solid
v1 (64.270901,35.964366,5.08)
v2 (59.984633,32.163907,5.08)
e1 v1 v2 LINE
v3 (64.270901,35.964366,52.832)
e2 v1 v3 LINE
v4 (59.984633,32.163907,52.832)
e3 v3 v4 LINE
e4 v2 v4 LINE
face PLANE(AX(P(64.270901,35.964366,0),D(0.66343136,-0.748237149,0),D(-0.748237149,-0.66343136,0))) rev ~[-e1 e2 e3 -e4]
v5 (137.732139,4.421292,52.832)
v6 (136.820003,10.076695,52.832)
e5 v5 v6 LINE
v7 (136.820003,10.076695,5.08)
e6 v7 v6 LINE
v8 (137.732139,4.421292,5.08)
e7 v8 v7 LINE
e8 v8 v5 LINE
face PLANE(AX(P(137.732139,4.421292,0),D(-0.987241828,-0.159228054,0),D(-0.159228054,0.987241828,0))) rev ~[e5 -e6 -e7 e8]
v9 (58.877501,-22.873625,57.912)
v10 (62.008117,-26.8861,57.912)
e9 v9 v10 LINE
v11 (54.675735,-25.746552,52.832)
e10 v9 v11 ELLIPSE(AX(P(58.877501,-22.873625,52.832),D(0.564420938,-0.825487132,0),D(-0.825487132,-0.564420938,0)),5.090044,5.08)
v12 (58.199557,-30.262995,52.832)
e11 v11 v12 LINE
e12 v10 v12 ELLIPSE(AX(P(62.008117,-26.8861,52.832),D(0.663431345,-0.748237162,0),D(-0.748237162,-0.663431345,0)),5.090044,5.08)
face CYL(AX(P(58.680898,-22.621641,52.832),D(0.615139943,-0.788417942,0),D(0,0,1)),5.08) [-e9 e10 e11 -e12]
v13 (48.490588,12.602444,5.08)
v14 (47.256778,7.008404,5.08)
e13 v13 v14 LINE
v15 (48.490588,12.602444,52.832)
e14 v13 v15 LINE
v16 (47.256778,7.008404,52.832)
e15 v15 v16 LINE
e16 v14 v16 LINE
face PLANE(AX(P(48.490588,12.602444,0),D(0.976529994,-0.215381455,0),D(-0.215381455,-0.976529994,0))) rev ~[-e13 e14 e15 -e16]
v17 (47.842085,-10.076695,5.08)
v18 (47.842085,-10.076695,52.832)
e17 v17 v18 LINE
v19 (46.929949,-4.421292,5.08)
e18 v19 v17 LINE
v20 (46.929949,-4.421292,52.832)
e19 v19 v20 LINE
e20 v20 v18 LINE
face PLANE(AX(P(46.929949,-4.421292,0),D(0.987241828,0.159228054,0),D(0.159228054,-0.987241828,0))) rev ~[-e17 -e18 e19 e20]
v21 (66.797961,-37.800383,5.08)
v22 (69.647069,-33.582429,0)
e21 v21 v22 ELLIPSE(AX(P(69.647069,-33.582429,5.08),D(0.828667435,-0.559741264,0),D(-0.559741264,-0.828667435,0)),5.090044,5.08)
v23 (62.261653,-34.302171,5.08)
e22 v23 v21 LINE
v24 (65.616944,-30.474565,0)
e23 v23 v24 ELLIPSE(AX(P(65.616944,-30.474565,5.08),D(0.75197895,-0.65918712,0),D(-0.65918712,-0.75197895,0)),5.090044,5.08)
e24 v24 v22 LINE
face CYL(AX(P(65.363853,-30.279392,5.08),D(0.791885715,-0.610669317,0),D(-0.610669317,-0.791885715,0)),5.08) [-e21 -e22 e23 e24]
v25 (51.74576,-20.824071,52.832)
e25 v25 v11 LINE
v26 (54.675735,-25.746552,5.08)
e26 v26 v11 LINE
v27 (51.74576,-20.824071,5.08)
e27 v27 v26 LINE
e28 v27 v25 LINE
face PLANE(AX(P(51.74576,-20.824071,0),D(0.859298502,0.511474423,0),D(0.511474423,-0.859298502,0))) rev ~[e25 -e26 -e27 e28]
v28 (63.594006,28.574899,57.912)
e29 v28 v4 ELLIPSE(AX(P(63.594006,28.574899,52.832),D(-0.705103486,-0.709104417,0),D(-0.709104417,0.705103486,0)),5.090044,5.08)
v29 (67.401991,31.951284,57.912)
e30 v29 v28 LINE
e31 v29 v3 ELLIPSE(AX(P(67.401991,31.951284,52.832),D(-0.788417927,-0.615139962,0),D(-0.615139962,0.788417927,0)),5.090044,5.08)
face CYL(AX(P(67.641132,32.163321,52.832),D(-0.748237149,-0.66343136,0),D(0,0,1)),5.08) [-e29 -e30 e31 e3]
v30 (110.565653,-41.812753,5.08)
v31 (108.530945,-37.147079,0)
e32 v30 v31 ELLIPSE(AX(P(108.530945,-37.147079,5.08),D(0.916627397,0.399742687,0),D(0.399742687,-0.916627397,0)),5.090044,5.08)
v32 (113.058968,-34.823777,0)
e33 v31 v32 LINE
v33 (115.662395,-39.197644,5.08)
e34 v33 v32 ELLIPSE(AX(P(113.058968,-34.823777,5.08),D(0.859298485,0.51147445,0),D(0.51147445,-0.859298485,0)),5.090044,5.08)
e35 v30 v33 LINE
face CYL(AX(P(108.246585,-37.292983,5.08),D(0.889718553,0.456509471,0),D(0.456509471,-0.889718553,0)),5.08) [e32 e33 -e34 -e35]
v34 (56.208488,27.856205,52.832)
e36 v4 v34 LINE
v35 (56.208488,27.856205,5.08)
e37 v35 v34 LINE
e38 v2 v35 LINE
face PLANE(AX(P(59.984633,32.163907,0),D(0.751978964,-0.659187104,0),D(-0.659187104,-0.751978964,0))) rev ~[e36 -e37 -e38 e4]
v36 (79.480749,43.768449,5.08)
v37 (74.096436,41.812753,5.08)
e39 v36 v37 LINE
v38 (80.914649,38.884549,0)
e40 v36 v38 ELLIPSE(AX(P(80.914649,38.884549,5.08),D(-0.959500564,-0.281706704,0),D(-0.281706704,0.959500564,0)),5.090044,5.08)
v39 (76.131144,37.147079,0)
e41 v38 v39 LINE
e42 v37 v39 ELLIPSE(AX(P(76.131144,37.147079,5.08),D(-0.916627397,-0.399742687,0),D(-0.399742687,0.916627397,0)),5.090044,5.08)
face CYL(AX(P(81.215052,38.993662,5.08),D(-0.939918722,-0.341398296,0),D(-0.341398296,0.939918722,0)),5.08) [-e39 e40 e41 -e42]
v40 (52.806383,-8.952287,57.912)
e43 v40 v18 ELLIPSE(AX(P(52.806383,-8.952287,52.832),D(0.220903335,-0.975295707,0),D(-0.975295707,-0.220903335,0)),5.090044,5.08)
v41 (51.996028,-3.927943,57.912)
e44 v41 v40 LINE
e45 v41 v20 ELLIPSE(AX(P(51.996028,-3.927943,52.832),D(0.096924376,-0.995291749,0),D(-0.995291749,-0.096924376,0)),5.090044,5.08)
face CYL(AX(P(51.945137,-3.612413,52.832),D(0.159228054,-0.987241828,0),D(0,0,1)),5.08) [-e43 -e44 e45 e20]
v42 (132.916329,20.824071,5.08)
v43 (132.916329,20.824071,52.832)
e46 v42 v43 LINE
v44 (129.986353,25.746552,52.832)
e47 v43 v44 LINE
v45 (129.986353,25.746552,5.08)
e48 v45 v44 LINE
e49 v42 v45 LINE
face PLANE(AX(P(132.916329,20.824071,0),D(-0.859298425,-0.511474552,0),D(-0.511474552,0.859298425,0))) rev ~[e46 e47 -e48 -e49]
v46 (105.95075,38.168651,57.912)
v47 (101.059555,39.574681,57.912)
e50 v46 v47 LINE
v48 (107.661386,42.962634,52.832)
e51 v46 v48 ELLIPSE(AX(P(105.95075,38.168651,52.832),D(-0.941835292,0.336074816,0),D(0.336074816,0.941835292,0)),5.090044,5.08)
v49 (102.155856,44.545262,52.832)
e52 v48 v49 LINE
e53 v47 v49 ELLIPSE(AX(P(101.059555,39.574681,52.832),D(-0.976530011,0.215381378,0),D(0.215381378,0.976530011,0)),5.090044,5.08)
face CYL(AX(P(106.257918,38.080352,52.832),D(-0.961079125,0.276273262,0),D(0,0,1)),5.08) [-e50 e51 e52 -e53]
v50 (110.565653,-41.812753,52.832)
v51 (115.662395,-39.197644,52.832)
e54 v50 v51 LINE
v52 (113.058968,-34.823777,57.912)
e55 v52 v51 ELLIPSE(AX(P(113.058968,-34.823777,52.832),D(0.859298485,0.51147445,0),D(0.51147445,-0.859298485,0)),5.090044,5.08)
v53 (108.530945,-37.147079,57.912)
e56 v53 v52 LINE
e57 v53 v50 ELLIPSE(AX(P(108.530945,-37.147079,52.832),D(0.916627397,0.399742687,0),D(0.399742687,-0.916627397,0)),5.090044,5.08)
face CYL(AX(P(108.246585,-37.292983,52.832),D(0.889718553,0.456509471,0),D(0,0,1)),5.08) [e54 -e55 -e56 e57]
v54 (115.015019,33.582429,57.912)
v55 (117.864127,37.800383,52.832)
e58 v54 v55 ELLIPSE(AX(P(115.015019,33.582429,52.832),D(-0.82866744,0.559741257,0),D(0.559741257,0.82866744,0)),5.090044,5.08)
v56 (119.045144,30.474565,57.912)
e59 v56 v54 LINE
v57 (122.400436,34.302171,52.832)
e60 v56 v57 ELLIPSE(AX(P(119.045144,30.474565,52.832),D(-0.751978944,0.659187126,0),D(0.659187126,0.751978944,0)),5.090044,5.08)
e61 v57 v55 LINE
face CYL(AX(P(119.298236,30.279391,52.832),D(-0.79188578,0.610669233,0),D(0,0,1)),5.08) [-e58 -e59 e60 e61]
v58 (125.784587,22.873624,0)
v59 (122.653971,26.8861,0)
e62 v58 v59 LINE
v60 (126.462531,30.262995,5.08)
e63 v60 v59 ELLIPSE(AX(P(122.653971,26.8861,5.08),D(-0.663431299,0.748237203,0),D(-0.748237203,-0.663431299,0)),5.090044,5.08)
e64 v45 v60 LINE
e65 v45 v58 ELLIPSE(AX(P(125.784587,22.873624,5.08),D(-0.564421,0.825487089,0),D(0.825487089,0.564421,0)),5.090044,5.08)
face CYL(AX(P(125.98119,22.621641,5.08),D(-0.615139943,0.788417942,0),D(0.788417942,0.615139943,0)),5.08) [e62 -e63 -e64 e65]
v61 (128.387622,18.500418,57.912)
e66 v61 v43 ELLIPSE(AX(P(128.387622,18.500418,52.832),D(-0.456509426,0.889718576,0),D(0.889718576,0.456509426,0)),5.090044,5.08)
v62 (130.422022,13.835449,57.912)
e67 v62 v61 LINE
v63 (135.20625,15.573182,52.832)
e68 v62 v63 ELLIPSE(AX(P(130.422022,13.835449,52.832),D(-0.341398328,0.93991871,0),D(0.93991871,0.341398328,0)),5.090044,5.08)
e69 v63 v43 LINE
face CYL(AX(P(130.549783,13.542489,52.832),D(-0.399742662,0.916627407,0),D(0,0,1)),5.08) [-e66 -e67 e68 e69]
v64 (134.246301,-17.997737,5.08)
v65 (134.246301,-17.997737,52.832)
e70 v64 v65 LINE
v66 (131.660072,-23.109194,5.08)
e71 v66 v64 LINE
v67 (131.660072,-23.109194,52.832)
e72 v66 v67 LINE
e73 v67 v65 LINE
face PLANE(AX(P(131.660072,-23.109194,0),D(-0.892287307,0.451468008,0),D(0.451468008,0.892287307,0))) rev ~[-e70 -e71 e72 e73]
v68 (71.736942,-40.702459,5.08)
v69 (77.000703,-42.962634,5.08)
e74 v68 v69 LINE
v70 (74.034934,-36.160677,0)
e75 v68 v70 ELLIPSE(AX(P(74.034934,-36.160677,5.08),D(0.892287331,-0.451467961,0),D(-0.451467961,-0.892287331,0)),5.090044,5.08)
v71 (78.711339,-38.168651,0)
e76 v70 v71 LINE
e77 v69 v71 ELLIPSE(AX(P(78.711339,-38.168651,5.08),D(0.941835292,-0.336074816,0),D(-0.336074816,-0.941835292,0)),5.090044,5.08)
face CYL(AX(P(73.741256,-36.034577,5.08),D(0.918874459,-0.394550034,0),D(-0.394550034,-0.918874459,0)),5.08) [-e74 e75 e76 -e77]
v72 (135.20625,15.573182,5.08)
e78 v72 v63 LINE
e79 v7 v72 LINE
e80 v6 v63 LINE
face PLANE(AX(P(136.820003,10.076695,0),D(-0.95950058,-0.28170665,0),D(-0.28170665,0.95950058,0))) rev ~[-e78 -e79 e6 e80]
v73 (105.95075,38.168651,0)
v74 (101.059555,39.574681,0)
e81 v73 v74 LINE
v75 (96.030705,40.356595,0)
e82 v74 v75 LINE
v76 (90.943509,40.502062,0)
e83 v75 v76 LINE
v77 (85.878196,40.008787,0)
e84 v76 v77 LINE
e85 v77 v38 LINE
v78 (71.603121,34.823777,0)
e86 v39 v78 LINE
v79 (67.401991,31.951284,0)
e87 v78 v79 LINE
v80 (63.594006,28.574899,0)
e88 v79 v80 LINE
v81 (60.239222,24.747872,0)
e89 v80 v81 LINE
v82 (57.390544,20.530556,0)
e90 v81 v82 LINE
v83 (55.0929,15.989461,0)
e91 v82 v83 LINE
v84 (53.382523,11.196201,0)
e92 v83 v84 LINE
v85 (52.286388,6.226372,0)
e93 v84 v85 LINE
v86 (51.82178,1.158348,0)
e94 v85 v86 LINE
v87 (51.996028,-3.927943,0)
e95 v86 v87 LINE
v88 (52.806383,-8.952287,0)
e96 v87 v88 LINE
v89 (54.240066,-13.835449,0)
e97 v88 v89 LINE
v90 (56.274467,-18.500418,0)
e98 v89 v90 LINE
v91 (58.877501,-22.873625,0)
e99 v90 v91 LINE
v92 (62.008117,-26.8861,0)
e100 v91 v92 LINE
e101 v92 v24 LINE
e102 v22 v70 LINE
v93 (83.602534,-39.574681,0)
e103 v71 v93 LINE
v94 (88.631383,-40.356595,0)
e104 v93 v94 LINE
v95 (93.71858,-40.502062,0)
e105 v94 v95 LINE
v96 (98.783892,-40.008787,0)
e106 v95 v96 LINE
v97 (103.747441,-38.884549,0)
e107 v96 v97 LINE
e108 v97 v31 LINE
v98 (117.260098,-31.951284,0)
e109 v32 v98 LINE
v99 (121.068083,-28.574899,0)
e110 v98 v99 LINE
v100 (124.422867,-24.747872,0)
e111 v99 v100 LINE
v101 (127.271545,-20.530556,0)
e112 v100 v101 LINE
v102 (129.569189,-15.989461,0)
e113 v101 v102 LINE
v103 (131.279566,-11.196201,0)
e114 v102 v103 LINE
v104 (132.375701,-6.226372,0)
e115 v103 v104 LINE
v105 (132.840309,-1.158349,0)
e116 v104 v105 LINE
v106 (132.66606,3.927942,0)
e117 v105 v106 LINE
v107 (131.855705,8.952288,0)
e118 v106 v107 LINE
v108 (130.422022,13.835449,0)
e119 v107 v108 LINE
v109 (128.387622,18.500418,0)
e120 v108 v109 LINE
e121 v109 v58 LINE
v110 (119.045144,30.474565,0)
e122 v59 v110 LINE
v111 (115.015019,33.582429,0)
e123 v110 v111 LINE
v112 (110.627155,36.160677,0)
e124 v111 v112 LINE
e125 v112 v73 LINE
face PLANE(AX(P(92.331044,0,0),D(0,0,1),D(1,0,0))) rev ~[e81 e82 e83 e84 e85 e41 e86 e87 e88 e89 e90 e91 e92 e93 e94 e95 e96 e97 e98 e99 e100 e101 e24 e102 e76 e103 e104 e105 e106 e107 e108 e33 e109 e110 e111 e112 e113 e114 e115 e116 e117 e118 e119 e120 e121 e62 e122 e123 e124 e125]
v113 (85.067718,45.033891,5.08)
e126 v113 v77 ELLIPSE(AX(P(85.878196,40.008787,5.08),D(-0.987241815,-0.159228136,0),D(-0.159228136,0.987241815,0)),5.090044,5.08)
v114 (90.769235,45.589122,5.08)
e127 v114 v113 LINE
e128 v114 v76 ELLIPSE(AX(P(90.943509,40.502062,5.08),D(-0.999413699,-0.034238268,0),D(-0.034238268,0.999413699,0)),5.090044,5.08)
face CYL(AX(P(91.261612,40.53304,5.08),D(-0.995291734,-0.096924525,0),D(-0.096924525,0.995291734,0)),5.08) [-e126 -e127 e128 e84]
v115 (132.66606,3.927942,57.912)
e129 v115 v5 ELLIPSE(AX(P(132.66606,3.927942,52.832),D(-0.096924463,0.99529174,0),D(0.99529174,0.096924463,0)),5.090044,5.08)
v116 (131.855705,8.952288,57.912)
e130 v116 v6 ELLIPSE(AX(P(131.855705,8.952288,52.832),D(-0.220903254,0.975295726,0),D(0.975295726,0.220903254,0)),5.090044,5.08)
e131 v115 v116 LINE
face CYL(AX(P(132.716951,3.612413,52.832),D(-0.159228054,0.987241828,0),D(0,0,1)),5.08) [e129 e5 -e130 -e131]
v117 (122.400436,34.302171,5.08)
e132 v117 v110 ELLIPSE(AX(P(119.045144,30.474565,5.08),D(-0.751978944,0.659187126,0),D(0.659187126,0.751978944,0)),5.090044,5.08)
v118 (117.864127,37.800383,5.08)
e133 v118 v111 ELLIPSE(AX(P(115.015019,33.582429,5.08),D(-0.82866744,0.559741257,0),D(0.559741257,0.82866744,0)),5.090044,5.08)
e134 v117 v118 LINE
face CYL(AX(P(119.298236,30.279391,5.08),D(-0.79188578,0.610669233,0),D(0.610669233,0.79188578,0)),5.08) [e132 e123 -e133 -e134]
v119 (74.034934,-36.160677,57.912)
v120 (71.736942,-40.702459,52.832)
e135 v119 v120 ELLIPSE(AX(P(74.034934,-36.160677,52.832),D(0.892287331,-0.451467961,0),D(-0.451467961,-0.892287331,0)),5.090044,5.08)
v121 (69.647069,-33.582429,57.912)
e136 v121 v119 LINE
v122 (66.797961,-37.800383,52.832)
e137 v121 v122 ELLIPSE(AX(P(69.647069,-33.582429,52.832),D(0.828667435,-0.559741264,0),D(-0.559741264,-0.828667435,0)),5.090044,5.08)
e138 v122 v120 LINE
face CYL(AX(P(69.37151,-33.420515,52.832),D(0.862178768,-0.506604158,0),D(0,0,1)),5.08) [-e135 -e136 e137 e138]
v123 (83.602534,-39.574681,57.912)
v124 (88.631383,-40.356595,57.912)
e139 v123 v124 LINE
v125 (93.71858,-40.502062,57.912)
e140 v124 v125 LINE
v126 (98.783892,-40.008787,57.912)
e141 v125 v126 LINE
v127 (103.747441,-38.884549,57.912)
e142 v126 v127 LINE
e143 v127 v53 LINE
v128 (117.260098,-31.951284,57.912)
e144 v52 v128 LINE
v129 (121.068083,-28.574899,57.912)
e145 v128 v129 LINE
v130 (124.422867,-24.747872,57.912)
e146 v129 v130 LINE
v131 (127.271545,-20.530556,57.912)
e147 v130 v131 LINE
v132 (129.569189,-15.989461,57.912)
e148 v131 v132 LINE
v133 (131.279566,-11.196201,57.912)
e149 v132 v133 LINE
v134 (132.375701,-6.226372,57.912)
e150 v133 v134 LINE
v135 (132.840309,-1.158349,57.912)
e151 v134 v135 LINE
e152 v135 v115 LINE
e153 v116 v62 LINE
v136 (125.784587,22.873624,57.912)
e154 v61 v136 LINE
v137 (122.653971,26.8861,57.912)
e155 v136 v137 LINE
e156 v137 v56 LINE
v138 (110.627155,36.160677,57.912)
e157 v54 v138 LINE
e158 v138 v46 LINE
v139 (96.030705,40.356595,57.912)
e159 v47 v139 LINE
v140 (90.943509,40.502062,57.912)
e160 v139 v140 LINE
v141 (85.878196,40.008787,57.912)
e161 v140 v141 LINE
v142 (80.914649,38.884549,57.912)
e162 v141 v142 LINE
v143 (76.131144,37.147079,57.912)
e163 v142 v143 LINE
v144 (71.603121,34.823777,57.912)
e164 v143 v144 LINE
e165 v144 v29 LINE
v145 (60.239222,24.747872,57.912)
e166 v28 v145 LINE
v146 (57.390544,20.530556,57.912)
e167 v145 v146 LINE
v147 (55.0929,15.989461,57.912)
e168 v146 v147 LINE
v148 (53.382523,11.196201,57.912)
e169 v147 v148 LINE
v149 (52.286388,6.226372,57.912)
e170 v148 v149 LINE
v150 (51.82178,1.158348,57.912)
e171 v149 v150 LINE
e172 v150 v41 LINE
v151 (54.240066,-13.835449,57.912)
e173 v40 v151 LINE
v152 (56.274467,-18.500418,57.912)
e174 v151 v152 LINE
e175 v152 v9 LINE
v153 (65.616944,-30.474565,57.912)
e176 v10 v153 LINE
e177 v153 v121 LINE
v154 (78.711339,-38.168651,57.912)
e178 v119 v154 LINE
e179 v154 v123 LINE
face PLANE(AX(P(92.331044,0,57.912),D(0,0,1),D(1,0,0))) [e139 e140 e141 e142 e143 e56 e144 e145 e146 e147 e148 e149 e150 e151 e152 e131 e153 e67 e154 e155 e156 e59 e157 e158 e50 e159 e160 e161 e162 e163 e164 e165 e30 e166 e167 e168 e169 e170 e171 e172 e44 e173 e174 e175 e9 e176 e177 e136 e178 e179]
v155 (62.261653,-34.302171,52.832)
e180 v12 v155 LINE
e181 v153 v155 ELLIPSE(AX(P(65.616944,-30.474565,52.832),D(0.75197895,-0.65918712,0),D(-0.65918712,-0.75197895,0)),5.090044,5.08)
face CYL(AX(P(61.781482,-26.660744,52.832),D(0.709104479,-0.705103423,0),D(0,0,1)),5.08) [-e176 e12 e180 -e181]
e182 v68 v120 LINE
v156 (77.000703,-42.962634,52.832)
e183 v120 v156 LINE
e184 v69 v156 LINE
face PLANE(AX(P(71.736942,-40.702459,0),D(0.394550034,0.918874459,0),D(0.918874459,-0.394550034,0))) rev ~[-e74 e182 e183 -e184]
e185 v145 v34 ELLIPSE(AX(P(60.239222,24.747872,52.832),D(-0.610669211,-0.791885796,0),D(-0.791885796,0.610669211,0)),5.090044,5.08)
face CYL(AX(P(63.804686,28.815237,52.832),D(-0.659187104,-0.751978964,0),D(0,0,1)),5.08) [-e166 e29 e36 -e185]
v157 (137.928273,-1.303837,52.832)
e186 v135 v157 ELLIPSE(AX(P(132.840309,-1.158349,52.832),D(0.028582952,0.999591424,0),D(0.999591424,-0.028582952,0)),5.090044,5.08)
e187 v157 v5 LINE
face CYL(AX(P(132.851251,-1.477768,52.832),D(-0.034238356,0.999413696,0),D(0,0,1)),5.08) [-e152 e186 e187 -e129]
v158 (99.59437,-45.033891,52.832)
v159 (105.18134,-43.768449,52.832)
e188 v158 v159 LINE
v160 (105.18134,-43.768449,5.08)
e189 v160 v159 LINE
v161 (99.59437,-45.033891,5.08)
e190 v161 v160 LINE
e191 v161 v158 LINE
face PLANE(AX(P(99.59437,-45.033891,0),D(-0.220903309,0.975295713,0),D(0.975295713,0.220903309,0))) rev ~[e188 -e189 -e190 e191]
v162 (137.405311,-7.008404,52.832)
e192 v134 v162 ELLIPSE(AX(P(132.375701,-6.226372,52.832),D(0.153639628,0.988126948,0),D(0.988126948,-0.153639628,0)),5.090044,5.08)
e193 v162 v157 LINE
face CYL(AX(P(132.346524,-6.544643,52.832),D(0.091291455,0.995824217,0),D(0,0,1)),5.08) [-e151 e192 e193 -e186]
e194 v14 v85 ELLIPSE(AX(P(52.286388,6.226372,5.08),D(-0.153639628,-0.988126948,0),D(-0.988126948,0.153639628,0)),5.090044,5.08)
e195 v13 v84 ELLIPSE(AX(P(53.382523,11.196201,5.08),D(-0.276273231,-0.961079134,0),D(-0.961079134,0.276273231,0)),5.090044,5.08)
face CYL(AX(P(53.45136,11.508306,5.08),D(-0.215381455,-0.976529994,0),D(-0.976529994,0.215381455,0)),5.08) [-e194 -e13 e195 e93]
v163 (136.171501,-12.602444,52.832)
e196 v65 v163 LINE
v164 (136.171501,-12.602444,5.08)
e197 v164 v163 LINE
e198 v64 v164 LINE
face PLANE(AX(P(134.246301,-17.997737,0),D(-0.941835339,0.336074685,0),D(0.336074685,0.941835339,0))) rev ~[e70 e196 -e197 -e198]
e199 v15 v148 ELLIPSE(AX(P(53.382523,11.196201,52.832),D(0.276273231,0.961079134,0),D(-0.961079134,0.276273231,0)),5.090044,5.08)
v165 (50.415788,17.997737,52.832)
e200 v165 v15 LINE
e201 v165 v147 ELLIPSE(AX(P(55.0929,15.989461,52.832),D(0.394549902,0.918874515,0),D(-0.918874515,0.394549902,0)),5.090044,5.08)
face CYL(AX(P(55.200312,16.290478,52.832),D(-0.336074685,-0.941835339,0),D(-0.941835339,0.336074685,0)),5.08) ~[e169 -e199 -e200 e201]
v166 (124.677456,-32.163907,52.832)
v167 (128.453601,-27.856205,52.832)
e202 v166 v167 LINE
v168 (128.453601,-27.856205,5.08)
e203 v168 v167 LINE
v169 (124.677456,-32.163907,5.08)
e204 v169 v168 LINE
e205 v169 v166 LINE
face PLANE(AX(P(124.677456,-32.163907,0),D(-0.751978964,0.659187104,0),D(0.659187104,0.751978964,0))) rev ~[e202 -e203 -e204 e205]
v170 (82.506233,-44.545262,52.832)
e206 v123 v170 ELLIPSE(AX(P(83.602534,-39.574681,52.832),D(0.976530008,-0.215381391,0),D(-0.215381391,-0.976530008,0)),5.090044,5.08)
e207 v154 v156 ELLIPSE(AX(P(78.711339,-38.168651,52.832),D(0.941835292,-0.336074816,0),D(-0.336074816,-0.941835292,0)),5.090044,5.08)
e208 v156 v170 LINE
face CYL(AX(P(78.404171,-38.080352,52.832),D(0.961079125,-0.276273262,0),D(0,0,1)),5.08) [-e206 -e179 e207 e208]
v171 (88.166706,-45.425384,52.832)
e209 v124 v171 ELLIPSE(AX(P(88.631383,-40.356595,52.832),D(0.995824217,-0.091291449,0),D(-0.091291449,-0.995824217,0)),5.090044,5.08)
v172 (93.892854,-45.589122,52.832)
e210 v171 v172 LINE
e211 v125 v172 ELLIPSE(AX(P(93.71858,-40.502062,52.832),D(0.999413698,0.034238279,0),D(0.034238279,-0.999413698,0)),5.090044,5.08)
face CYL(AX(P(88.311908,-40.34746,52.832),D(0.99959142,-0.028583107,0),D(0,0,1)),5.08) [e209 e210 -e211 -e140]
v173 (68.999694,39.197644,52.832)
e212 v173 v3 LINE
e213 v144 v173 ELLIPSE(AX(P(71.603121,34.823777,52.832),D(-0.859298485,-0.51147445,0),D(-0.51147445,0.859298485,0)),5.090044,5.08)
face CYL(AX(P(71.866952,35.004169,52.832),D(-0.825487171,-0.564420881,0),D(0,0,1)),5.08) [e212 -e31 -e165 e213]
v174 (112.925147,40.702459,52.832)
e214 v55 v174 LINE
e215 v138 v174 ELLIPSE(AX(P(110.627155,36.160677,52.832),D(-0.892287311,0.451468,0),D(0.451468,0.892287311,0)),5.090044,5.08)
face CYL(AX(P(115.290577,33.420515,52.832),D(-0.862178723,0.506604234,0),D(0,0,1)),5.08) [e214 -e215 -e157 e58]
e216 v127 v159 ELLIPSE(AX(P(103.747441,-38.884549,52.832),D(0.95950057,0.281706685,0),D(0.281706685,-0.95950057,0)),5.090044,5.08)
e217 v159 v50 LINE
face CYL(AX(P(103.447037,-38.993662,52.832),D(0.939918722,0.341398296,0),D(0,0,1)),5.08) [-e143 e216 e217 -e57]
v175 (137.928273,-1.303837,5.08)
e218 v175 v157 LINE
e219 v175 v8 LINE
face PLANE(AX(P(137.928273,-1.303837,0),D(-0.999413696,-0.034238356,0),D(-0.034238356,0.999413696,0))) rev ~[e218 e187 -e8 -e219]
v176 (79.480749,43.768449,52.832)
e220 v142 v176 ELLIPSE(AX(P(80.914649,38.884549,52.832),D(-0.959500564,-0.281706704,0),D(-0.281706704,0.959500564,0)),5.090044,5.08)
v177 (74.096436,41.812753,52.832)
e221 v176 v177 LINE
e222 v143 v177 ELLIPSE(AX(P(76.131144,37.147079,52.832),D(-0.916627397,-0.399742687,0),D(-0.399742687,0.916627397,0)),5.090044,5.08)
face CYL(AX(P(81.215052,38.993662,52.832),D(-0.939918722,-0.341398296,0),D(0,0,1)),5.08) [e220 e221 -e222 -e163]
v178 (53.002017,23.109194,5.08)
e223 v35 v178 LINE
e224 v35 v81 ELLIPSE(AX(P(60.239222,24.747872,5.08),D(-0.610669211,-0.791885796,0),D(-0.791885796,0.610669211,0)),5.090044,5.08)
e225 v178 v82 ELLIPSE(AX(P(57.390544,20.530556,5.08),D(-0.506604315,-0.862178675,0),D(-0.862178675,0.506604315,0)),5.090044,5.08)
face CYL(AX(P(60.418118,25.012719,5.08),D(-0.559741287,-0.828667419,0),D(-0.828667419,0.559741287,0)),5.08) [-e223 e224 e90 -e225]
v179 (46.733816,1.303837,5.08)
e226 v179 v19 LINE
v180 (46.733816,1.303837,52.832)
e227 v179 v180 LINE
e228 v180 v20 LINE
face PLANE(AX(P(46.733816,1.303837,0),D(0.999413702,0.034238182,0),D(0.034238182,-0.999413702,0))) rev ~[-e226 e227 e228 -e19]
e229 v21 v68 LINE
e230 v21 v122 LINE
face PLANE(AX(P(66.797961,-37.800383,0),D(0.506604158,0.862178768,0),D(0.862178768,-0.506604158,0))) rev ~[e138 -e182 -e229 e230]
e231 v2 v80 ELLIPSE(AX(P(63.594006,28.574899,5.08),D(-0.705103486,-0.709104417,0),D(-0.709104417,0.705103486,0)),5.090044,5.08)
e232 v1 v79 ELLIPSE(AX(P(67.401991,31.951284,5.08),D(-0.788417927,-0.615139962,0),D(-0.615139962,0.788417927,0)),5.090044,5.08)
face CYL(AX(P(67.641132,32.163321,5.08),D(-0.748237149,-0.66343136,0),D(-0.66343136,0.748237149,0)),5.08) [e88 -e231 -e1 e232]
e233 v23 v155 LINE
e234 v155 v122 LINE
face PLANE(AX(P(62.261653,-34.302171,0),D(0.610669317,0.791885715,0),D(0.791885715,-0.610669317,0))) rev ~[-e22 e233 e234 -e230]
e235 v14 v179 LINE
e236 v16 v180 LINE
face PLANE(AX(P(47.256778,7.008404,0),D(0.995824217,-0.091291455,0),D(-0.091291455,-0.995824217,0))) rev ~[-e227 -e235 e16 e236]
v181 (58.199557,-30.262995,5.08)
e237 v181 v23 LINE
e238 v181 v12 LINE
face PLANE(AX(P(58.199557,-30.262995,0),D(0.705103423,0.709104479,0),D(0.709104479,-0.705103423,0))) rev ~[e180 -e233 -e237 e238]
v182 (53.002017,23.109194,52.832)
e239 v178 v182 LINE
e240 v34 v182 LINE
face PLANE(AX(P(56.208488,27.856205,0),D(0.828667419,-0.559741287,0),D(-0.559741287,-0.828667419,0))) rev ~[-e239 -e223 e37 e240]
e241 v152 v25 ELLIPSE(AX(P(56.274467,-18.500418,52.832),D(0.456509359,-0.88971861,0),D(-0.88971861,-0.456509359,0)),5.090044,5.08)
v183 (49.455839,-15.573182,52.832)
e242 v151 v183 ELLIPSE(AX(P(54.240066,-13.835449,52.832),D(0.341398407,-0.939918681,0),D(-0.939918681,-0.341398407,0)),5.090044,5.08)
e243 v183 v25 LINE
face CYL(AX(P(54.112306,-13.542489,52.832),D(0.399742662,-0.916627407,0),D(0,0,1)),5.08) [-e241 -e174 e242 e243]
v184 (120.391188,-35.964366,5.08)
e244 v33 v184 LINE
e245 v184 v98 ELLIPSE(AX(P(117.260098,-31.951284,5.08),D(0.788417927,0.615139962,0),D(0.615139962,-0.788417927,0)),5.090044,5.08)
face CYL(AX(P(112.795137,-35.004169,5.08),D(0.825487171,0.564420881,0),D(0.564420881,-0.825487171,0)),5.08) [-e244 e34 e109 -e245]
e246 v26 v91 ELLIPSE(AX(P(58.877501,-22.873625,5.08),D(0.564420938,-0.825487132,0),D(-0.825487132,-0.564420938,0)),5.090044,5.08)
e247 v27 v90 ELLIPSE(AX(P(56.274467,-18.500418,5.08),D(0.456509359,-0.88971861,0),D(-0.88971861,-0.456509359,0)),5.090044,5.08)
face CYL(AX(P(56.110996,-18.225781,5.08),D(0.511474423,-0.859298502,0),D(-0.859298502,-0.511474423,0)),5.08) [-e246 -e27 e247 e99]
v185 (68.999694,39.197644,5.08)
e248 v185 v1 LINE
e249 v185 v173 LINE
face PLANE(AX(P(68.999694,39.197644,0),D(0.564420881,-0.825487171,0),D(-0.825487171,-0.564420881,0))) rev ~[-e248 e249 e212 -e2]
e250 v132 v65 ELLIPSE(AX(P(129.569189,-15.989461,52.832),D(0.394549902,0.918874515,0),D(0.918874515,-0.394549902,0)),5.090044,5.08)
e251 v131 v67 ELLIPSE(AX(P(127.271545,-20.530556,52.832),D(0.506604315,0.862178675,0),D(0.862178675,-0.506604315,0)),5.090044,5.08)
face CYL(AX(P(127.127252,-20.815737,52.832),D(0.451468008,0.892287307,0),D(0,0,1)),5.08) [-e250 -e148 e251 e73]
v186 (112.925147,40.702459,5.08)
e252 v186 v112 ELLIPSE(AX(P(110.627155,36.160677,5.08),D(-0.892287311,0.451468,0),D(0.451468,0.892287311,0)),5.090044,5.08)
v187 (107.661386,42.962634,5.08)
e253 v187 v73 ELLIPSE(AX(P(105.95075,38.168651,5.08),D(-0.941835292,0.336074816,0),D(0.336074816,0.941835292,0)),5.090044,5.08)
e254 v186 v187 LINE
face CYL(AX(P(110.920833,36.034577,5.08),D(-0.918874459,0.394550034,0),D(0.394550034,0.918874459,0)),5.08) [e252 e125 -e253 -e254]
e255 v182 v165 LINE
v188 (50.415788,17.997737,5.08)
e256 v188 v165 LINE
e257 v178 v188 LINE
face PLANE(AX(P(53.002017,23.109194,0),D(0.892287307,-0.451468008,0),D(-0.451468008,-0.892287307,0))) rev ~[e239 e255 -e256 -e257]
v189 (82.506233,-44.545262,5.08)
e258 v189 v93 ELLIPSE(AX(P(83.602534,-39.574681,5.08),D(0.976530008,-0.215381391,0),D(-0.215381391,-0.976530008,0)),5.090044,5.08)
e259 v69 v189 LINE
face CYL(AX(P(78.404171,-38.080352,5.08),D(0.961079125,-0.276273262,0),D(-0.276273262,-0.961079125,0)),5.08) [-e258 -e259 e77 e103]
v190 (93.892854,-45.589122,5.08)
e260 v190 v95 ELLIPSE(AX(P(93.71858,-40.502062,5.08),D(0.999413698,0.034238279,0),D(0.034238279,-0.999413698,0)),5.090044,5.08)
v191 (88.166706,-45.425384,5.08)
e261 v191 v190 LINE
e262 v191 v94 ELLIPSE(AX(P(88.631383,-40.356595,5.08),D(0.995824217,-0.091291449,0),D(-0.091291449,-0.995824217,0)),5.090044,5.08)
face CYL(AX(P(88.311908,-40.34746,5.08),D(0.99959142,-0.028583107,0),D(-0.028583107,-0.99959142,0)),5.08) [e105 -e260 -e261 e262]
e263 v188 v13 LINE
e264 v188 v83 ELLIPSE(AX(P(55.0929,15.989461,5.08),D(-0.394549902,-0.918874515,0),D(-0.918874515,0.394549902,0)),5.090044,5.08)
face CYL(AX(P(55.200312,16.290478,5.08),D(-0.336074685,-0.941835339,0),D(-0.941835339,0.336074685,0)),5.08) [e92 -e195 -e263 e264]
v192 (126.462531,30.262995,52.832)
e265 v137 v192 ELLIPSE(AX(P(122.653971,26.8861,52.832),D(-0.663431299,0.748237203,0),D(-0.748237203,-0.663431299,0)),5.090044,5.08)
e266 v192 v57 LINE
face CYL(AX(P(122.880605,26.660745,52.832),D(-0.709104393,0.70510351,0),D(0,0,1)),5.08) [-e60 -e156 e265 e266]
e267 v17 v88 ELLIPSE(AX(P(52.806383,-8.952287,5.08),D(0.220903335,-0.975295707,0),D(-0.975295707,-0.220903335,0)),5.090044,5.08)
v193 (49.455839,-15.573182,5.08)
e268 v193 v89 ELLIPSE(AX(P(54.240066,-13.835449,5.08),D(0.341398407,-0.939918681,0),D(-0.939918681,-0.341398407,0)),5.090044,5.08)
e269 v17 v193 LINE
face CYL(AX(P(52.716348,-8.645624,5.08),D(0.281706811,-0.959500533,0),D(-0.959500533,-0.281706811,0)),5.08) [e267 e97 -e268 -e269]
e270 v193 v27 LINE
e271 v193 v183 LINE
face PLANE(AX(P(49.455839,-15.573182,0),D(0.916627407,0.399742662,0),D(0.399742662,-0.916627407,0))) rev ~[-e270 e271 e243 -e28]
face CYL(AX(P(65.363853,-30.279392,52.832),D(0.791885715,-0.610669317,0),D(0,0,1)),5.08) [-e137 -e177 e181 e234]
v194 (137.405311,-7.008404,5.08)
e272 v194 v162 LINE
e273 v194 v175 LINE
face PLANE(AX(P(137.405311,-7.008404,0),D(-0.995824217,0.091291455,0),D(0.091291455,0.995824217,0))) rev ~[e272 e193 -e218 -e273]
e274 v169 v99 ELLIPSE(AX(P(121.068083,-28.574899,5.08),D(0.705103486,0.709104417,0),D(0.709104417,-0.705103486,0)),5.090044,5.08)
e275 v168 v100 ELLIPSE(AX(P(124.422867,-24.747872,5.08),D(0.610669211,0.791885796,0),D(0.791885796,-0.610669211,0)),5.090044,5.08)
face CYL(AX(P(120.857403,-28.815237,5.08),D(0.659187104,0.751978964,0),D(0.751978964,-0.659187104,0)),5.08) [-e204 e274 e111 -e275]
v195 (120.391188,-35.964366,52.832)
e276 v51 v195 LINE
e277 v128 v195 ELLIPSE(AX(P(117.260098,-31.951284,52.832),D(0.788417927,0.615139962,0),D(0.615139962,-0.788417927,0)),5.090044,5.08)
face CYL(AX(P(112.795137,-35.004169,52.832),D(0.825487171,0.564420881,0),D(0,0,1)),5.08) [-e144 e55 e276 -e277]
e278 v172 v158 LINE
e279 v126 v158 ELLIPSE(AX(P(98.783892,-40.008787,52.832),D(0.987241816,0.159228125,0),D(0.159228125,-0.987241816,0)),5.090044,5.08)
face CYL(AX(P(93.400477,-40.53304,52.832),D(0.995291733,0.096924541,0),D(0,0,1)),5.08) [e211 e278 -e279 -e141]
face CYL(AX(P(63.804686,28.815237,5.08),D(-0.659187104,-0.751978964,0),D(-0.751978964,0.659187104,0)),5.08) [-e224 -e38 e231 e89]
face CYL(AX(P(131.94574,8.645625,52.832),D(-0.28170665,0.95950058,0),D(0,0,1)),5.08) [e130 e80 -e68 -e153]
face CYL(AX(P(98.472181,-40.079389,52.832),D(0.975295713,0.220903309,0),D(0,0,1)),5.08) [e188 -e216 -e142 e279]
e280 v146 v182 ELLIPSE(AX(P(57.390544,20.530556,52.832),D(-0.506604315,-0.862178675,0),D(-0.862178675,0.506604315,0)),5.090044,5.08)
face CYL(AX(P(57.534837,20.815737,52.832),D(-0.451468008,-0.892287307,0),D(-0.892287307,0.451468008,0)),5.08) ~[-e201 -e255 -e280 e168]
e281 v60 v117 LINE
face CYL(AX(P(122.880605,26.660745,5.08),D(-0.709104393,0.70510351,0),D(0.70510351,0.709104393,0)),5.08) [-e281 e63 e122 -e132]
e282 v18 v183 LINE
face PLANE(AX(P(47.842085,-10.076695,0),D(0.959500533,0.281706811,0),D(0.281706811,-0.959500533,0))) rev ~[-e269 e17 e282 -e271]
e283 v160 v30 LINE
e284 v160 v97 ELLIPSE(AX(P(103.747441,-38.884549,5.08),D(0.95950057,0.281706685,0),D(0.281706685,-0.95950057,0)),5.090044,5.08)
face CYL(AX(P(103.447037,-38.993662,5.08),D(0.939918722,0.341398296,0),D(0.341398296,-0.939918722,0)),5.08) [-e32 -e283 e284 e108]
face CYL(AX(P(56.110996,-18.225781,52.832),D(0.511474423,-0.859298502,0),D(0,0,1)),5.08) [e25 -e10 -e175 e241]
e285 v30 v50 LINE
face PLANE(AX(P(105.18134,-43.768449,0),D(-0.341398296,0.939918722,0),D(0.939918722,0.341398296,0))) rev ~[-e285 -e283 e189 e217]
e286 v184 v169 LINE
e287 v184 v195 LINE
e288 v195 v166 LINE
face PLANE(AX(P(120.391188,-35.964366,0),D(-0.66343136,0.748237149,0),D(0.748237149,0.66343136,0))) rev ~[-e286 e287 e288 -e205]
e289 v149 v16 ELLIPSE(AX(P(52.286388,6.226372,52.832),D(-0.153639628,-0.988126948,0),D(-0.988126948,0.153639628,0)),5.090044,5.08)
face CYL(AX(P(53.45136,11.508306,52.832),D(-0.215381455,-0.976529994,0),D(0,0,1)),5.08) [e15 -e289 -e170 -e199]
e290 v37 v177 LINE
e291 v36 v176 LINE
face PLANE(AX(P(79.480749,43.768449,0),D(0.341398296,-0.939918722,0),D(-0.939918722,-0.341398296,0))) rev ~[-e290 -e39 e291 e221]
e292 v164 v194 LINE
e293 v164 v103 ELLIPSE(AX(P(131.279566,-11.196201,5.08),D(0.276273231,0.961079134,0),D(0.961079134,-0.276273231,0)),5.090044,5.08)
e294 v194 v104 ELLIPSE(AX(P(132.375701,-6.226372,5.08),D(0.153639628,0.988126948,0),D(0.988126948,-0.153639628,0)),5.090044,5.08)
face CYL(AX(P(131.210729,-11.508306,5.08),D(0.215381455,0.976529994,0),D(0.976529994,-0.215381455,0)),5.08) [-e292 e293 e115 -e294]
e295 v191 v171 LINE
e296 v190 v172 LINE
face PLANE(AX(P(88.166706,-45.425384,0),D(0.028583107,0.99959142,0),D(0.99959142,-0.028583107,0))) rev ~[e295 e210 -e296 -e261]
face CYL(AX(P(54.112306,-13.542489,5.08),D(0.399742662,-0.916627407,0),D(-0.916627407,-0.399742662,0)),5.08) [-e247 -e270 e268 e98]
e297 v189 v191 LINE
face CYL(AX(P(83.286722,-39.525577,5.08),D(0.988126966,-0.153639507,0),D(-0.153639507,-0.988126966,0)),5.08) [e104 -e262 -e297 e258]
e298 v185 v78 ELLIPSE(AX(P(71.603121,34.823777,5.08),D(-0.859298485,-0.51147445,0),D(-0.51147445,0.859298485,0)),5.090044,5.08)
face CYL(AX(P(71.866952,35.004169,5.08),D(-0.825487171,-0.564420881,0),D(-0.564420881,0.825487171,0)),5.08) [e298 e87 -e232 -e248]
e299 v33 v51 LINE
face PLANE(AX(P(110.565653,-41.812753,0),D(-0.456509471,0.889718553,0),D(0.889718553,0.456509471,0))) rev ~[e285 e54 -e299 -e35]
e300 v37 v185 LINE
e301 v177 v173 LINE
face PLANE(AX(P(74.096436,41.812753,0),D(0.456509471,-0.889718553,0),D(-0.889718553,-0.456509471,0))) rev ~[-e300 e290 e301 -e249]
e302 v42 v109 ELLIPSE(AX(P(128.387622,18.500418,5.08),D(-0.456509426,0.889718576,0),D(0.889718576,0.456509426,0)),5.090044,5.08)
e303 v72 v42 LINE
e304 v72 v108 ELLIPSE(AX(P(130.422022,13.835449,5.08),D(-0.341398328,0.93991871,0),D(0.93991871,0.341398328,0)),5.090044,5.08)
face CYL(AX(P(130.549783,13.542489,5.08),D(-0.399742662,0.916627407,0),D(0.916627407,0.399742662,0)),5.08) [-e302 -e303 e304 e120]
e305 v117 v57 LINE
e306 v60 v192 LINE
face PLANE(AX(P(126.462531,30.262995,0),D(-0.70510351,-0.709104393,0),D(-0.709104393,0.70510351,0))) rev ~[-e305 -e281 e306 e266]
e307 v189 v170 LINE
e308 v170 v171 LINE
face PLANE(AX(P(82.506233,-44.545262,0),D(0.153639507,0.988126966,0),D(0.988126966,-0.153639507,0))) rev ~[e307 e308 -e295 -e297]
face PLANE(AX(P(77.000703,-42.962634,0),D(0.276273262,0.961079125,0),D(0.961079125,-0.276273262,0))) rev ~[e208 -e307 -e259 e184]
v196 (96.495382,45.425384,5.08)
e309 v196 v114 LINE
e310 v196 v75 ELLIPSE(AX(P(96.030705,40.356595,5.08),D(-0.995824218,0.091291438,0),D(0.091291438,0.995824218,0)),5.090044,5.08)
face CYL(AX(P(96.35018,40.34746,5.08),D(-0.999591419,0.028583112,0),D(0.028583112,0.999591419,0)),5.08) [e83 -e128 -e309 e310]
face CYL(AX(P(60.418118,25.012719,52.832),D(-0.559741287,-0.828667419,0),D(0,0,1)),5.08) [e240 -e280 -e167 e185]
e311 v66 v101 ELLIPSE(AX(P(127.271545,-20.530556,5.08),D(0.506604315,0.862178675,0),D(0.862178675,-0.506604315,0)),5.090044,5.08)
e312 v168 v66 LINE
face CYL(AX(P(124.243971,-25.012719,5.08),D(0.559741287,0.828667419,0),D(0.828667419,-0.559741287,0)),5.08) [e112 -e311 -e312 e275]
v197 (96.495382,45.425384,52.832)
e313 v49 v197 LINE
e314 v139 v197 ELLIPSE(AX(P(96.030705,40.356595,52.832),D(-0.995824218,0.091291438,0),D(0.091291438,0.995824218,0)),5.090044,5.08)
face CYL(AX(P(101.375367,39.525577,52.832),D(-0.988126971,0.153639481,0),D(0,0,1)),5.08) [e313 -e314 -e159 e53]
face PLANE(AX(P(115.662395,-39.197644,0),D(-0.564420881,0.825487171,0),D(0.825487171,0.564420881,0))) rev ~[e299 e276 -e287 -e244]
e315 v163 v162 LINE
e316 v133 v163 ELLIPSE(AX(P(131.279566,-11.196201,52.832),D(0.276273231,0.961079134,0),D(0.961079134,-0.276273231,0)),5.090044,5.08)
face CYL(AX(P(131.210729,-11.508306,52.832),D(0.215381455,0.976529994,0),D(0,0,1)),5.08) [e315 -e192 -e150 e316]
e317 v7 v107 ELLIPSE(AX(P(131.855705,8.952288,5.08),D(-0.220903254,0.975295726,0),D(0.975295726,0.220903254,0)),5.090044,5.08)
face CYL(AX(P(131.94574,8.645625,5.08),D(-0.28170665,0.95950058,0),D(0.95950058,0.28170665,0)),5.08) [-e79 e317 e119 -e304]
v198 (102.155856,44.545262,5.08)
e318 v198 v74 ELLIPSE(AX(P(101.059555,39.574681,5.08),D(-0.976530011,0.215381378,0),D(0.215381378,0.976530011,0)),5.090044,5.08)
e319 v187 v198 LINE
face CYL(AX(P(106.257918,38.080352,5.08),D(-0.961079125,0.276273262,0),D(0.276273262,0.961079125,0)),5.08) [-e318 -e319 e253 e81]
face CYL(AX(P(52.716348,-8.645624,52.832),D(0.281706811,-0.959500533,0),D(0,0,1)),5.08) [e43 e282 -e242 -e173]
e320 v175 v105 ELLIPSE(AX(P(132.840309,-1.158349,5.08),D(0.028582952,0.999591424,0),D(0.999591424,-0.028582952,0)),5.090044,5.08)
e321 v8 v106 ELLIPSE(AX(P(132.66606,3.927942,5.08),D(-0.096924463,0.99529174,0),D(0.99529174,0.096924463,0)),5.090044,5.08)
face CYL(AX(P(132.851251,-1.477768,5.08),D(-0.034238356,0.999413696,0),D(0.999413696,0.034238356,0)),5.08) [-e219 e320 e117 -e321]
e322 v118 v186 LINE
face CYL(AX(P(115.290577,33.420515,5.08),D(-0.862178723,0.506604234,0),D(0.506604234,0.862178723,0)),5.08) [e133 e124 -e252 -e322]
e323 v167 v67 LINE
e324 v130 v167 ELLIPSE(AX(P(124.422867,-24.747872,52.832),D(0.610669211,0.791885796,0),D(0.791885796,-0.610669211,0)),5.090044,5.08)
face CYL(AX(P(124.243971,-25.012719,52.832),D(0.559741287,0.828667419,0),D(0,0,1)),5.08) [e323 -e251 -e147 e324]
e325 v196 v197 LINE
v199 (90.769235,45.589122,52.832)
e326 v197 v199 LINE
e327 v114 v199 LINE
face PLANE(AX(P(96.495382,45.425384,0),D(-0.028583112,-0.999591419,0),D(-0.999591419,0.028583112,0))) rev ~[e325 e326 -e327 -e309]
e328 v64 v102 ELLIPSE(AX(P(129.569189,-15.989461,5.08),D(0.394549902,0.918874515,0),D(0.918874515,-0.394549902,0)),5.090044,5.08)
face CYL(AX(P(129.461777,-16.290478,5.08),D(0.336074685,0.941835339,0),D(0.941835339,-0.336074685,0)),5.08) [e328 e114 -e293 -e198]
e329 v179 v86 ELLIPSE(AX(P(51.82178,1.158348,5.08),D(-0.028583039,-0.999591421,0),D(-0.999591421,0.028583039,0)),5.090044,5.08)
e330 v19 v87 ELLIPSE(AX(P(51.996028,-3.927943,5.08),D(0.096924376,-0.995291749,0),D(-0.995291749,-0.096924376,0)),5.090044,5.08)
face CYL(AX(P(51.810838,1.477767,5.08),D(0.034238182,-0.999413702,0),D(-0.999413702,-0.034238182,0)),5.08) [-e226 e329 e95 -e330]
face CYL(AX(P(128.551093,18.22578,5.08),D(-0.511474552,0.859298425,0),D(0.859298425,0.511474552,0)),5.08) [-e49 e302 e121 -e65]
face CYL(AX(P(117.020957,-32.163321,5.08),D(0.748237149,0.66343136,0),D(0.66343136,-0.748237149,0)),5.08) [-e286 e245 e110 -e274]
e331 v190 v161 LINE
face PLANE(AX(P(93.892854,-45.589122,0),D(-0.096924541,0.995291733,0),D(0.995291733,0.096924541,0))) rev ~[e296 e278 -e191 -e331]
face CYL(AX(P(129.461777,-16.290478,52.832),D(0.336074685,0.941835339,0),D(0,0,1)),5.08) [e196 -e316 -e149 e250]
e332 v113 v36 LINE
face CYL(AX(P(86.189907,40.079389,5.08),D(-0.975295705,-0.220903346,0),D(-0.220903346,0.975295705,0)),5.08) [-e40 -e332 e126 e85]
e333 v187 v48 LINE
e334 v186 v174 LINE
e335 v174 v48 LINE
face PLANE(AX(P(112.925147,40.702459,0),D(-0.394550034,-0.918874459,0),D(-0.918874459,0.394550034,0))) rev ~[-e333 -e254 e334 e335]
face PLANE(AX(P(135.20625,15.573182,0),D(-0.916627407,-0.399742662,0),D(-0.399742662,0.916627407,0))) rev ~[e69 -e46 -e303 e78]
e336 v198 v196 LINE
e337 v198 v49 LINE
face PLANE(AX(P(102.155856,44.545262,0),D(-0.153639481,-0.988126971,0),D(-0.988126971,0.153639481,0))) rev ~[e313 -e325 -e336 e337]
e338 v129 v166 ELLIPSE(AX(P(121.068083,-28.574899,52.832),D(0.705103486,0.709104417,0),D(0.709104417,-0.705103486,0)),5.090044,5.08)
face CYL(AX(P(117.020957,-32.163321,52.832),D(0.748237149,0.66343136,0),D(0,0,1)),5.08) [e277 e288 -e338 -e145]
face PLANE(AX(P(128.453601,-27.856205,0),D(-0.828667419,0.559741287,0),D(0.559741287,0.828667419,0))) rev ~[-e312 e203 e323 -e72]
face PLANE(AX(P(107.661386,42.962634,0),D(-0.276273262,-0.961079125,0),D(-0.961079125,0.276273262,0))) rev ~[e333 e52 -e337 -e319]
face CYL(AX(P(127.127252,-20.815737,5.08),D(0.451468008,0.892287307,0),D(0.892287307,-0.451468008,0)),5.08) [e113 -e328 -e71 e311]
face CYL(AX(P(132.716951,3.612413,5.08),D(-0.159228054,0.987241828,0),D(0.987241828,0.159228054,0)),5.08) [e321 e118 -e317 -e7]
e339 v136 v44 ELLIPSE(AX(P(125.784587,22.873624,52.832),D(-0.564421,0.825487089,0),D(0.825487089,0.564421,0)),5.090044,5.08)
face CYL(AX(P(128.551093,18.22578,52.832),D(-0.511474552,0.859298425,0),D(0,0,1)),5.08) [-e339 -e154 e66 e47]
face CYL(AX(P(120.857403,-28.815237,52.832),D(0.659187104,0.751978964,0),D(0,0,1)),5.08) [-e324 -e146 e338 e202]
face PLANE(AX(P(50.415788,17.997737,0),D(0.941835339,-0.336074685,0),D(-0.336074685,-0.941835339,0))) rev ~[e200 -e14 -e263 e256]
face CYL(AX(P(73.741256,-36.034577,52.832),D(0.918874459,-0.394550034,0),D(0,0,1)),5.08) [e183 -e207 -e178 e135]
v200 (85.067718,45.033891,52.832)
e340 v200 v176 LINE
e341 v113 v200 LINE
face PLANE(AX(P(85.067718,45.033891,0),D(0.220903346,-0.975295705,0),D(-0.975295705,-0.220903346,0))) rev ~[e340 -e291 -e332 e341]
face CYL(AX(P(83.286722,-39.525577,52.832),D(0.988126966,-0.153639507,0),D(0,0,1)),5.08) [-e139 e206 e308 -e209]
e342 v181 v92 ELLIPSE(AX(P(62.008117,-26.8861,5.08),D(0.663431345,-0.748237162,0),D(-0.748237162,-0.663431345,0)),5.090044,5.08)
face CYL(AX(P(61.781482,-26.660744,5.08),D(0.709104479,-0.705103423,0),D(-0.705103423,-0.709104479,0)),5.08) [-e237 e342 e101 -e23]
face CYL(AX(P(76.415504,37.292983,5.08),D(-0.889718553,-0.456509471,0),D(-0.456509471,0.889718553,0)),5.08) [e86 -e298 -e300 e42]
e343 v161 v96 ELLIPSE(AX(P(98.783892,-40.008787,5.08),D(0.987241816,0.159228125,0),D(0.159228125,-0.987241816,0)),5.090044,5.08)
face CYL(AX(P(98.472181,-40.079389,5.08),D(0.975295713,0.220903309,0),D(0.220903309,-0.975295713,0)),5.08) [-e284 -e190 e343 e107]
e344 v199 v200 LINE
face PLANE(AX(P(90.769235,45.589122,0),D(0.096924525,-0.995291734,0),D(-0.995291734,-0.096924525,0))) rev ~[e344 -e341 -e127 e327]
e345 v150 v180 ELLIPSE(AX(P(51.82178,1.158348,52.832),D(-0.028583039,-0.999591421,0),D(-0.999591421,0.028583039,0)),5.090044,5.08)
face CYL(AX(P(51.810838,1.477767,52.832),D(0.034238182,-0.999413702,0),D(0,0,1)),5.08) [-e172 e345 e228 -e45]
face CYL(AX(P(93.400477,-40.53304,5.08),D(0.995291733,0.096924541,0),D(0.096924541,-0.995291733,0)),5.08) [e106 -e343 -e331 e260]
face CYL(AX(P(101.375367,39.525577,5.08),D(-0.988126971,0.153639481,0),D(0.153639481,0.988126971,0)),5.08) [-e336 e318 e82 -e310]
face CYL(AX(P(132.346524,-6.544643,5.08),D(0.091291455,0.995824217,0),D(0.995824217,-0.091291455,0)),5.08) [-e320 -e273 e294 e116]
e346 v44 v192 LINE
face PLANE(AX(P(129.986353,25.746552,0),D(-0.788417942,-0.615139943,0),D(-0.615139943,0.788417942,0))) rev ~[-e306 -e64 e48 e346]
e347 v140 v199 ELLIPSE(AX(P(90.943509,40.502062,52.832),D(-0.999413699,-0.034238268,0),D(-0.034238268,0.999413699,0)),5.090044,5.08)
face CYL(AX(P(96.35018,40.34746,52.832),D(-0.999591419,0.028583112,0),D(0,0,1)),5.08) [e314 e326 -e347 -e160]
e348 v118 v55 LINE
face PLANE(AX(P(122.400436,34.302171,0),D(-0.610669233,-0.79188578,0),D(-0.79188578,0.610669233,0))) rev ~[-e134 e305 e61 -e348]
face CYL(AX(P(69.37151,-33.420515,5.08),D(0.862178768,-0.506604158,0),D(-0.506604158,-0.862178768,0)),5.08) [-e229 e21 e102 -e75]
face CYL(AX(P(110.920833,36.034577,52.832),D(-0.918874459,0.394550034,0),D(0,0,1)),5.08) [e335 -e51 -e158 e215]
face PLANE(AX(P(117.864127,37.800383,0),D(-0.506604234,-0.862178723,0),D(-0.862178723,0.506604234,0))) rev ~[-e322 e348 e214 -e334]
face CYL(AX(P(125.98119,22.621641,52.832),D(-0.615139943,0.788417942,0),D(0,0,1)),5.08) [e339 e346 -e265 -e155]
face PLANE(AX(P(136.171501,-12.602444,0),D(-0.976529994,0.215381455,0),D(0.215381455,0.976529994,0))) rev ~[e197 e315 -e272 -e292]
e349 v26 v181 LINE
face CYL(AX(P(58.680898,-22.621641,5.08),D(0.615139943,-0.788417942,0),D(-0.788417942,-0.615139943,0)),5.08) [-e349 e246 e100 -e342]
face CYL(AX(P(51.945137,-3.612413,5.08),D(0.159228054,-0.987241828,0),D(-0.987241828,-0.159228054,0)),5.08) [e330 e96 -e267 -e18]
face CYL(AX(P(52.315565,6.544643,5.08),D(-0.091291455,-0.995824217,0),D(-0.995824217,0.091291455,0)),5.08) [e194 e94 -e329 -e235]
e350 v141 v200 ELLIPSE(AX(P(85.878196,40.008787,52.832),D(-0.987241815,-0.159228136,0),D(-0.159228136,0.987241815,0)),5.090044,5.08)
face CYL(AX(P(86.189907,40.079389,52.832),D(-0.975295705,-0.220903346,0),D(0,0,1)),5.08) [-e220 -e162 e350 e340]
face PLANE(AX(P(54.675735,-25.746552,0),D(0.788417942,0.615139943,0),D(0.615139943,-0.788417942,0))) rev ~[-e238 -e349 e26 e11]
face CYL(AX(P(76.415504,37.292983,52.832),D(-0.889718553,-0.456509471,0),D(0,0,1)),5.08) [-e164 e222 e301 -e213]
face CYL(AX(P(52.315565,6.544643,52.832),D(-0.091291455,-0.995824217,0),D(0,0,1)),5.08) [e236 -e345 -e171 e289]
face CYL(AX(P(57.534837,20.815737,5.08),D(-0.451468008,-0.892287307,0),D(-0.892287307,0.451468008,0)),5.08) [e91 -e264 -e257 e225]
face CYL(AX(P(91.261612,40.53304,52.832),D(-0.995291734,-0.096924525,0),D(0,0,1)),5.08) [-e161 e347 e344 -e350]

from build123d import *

# Parameters (mm, degrees)
F1_DEPTH = 57.912
F2_R     = 5.08
F3_R     = 5.08


with BuildPart() as f1:
    # F0 (on Top) → F1 (new body)
    with BuildSketch(Plane.XY):
        Polygon((50.415788, 17.997737), (48.490588, 12.602444), (47.256778, 7.008404), (46.733816, 1.303837), (46.929949, -4.421292), (47.842085, -10.076695), (49.455839, -15.573182), (51.74576, -20.824071), (54.675735, -25.746552), (58.199557, -30.262995), (62.261653, -34.302171), (66.797961, -37.800383), (71.736942, -40.702459), (77.000703, -42.962634), (82.506233, -44.545262), (88.166706, -45.425384), (93.892854, -45.589122), (99.59437, -45.033891), (105.18134, -43.768449), (110.565653, -41.812753), (115.662395, -39.197644), (120.391188, -35.964366), (124.677456, -32.163907), (128.453601, -27.856205), (131.660072, -23.109194), (134.246301, -17.997737), (136.171501, -12.602444), (137.405311, -7.008404), (137.928273, -1.303837), (137.732139, 4.421292), (136.820003, 10.076695), (135.20625, 15.573182), (132.916329, 20.824071), (129.986353, 25.746552), (126.462531, 30.262995), (122.400436, 34.302171), (117.864127, 37.800383), (112.925147, 40.702459), (107.661386, 42.962634), (102.155856, 44.545262), (96.495382, 45.425384), (90.769235, 45.589122), (85.067718, 45.033891), (79.480749, 43.768449), (74.096436, 41.812753), (68.999694, 39.197644), (64.270901, 35.964366), (59.984633, 32.163907), (56.208488, 27.856205), (53.002017, 23.109194), align=None)
    extrude(amount=F1_DEPTH)

    # F2
    f2_edges = [f1.edges().sort_by_distance(p)[0] for p in [
        (124.431484, 32.282583, 0),
        (120.132281, 36.051277, 0),
        (115.394637, 39.251421, 0),
        (110.293266, 41.832546, 0),
        (104.908621, 43.753948, 0),
        (99.325619, 44.985323, 0),
        (93.632309, 45.507253, 0),
        (87.918477, 45.311506, 0),
        (82.274233, 44.40117, 0),
        (76.788592, 42.790601, 0),
        (71.548065, 40.505199, 0),
        (66.635297, 37.581005, 0),
        (62.127767, 34.064136, 0),
        (58.09656, 30.010056, 0),
        (54.605252, 25.482699, 0),
        (51.708902, 20.553465, 0),
        (49.453188, 15.30009, 0),
        (47.873683, 9.805424, 0),
        (46.995297, 4.156121, 0),
        (46.831883, -1.558727, 0),
        (47.386017, -7.248994, 0),
        (48.648962, -12.824939, 0),
        (50.600799, -18.198627, 0),
        (53.210748, -23.285312, 0),
        (56.437646, -28.004773, 0),
        (60.230605, -32.282583, 0),
        (64.529807, -36.051277, 0),
        (69.267451, -39.251421, 0),
        (74.368822, -41.832546, 0),
        (79.753468, -43.753948, 0),
        (85.33647, -44.985323, 0),
        (91.02978, -45.507253, 0),
        (96.743612, -45.311506, 0),
        (102.387855, -44.40117, 0),
        (107.873497, -42.790601, 0),
        (113.114024, -40.505199, 0),
        (118.026792, -37.581005, 0),
        (122.534322, -34.064136, 0),
        (126.565528, -30.010056, 0),
        (130.056837, -25.482699, 0),
        (132.953187, -20.553465, 0),
        (135.208901, -15.30009, 0),
        (136.788406, -9.805424, 0),
        (137.666792, -4.156121, 0),
        (137.830206, 1.558727, 0),
        (137.276071, 7.248994, 0),
        (136.013127, 12.824939, 0),
        (134.061289, 18.198627, 0),
        (131.451341, 23.285312, 0),
        (128.224442, 28.004773, 0),
    ]]
    fillet(f2_edges, radius=F2_R)

    # F3
    f3_edges = [f1.edges().sort_by_distance(p)[0] for p in [
        (124.431484, 32.282583, 57.912),
        (120.132281, 36.051277, 57.912),
        (115.394637, 39.251421, 57.912),
        (110.293266, 41.832546, 57.912),
        (104.908621, 43.753948, 57.912),
        (99.325619, 44.985323, 57.912),
        (93.632309, 45.507253, 57.912),
        (87.918477, 45.311506, 57.912),
        (82.274233, 44.40117, 57.912),
        (76.788592, 42.790601, 57.912),
        (71.548065, 40.505199, 57.912),
        (66.635297, 37.581005, 57.912),
        (62.127767, 34.064136, 57.912),
        (58.09656, 30.010056, 57.912),
        (54.605252, 25.482699, 57.912),
        (51.708902, 20.553465, 57.912),
        (49.453188, 15.30009, 57.912),
        (47.873683, 9.805424, 57.912),
        (46.995297, 4.156121, 57.912),
        (46.831883, -1.558727, 57.912),
        (47.386017, -7.248994, 57.912),
        (48.648962, -12.824939, 57.912),
        (50.600799, -18.198627, 57.912),
        (53.210748, -23.285312, 57.912),
        (56.437646, -28.004773, 57.912),
        (60.230605, -32.282583, 57.912),
        (64.529807, -36.051277, 57.912),
        (69.267451, -39.251421, 57.912),
        (74.368822, -41.832546, 57.912),
        (79.753468, -43.753948, 57.912),
        (85.33647, -44.985323, 57.912),
        (91.02978, -45.507253, 57.912),
        (96.743612, -45.311506, 57.912),
        (102.387855, -44.40117, 57.912),
        (107.873497, -42.790601, 57.912),
        (113.114024, -40.505199, 57.912),
        (118.026792, -37.581005, 57.912),
        (122.534322, -34.064136, 57.912),
        (126.565528, -30.010056, 57.912),
        (130.056837, -25.482699, 57.912),
        (132.953187, -20.553465, 57.912),
        (135.208901, -15.30009, 57.912),
        (136.788406, -9.805424, 57.912),
        (137.666792, -4.156121, 57.912),
        (137.830206, 1.558727, 57.912),
        (137.276071, 7.248994, 57.912),
        (136.013127, 12.824939, 57.912),
        (134.061289, 18.198627, 57.912),
        (131.451341, 23.285312, 57.912),
        (128.224442, 28.004773, 57.912),
    ]]
    fillet(f3_edges, radius=F3_R)


solid = f1.part
